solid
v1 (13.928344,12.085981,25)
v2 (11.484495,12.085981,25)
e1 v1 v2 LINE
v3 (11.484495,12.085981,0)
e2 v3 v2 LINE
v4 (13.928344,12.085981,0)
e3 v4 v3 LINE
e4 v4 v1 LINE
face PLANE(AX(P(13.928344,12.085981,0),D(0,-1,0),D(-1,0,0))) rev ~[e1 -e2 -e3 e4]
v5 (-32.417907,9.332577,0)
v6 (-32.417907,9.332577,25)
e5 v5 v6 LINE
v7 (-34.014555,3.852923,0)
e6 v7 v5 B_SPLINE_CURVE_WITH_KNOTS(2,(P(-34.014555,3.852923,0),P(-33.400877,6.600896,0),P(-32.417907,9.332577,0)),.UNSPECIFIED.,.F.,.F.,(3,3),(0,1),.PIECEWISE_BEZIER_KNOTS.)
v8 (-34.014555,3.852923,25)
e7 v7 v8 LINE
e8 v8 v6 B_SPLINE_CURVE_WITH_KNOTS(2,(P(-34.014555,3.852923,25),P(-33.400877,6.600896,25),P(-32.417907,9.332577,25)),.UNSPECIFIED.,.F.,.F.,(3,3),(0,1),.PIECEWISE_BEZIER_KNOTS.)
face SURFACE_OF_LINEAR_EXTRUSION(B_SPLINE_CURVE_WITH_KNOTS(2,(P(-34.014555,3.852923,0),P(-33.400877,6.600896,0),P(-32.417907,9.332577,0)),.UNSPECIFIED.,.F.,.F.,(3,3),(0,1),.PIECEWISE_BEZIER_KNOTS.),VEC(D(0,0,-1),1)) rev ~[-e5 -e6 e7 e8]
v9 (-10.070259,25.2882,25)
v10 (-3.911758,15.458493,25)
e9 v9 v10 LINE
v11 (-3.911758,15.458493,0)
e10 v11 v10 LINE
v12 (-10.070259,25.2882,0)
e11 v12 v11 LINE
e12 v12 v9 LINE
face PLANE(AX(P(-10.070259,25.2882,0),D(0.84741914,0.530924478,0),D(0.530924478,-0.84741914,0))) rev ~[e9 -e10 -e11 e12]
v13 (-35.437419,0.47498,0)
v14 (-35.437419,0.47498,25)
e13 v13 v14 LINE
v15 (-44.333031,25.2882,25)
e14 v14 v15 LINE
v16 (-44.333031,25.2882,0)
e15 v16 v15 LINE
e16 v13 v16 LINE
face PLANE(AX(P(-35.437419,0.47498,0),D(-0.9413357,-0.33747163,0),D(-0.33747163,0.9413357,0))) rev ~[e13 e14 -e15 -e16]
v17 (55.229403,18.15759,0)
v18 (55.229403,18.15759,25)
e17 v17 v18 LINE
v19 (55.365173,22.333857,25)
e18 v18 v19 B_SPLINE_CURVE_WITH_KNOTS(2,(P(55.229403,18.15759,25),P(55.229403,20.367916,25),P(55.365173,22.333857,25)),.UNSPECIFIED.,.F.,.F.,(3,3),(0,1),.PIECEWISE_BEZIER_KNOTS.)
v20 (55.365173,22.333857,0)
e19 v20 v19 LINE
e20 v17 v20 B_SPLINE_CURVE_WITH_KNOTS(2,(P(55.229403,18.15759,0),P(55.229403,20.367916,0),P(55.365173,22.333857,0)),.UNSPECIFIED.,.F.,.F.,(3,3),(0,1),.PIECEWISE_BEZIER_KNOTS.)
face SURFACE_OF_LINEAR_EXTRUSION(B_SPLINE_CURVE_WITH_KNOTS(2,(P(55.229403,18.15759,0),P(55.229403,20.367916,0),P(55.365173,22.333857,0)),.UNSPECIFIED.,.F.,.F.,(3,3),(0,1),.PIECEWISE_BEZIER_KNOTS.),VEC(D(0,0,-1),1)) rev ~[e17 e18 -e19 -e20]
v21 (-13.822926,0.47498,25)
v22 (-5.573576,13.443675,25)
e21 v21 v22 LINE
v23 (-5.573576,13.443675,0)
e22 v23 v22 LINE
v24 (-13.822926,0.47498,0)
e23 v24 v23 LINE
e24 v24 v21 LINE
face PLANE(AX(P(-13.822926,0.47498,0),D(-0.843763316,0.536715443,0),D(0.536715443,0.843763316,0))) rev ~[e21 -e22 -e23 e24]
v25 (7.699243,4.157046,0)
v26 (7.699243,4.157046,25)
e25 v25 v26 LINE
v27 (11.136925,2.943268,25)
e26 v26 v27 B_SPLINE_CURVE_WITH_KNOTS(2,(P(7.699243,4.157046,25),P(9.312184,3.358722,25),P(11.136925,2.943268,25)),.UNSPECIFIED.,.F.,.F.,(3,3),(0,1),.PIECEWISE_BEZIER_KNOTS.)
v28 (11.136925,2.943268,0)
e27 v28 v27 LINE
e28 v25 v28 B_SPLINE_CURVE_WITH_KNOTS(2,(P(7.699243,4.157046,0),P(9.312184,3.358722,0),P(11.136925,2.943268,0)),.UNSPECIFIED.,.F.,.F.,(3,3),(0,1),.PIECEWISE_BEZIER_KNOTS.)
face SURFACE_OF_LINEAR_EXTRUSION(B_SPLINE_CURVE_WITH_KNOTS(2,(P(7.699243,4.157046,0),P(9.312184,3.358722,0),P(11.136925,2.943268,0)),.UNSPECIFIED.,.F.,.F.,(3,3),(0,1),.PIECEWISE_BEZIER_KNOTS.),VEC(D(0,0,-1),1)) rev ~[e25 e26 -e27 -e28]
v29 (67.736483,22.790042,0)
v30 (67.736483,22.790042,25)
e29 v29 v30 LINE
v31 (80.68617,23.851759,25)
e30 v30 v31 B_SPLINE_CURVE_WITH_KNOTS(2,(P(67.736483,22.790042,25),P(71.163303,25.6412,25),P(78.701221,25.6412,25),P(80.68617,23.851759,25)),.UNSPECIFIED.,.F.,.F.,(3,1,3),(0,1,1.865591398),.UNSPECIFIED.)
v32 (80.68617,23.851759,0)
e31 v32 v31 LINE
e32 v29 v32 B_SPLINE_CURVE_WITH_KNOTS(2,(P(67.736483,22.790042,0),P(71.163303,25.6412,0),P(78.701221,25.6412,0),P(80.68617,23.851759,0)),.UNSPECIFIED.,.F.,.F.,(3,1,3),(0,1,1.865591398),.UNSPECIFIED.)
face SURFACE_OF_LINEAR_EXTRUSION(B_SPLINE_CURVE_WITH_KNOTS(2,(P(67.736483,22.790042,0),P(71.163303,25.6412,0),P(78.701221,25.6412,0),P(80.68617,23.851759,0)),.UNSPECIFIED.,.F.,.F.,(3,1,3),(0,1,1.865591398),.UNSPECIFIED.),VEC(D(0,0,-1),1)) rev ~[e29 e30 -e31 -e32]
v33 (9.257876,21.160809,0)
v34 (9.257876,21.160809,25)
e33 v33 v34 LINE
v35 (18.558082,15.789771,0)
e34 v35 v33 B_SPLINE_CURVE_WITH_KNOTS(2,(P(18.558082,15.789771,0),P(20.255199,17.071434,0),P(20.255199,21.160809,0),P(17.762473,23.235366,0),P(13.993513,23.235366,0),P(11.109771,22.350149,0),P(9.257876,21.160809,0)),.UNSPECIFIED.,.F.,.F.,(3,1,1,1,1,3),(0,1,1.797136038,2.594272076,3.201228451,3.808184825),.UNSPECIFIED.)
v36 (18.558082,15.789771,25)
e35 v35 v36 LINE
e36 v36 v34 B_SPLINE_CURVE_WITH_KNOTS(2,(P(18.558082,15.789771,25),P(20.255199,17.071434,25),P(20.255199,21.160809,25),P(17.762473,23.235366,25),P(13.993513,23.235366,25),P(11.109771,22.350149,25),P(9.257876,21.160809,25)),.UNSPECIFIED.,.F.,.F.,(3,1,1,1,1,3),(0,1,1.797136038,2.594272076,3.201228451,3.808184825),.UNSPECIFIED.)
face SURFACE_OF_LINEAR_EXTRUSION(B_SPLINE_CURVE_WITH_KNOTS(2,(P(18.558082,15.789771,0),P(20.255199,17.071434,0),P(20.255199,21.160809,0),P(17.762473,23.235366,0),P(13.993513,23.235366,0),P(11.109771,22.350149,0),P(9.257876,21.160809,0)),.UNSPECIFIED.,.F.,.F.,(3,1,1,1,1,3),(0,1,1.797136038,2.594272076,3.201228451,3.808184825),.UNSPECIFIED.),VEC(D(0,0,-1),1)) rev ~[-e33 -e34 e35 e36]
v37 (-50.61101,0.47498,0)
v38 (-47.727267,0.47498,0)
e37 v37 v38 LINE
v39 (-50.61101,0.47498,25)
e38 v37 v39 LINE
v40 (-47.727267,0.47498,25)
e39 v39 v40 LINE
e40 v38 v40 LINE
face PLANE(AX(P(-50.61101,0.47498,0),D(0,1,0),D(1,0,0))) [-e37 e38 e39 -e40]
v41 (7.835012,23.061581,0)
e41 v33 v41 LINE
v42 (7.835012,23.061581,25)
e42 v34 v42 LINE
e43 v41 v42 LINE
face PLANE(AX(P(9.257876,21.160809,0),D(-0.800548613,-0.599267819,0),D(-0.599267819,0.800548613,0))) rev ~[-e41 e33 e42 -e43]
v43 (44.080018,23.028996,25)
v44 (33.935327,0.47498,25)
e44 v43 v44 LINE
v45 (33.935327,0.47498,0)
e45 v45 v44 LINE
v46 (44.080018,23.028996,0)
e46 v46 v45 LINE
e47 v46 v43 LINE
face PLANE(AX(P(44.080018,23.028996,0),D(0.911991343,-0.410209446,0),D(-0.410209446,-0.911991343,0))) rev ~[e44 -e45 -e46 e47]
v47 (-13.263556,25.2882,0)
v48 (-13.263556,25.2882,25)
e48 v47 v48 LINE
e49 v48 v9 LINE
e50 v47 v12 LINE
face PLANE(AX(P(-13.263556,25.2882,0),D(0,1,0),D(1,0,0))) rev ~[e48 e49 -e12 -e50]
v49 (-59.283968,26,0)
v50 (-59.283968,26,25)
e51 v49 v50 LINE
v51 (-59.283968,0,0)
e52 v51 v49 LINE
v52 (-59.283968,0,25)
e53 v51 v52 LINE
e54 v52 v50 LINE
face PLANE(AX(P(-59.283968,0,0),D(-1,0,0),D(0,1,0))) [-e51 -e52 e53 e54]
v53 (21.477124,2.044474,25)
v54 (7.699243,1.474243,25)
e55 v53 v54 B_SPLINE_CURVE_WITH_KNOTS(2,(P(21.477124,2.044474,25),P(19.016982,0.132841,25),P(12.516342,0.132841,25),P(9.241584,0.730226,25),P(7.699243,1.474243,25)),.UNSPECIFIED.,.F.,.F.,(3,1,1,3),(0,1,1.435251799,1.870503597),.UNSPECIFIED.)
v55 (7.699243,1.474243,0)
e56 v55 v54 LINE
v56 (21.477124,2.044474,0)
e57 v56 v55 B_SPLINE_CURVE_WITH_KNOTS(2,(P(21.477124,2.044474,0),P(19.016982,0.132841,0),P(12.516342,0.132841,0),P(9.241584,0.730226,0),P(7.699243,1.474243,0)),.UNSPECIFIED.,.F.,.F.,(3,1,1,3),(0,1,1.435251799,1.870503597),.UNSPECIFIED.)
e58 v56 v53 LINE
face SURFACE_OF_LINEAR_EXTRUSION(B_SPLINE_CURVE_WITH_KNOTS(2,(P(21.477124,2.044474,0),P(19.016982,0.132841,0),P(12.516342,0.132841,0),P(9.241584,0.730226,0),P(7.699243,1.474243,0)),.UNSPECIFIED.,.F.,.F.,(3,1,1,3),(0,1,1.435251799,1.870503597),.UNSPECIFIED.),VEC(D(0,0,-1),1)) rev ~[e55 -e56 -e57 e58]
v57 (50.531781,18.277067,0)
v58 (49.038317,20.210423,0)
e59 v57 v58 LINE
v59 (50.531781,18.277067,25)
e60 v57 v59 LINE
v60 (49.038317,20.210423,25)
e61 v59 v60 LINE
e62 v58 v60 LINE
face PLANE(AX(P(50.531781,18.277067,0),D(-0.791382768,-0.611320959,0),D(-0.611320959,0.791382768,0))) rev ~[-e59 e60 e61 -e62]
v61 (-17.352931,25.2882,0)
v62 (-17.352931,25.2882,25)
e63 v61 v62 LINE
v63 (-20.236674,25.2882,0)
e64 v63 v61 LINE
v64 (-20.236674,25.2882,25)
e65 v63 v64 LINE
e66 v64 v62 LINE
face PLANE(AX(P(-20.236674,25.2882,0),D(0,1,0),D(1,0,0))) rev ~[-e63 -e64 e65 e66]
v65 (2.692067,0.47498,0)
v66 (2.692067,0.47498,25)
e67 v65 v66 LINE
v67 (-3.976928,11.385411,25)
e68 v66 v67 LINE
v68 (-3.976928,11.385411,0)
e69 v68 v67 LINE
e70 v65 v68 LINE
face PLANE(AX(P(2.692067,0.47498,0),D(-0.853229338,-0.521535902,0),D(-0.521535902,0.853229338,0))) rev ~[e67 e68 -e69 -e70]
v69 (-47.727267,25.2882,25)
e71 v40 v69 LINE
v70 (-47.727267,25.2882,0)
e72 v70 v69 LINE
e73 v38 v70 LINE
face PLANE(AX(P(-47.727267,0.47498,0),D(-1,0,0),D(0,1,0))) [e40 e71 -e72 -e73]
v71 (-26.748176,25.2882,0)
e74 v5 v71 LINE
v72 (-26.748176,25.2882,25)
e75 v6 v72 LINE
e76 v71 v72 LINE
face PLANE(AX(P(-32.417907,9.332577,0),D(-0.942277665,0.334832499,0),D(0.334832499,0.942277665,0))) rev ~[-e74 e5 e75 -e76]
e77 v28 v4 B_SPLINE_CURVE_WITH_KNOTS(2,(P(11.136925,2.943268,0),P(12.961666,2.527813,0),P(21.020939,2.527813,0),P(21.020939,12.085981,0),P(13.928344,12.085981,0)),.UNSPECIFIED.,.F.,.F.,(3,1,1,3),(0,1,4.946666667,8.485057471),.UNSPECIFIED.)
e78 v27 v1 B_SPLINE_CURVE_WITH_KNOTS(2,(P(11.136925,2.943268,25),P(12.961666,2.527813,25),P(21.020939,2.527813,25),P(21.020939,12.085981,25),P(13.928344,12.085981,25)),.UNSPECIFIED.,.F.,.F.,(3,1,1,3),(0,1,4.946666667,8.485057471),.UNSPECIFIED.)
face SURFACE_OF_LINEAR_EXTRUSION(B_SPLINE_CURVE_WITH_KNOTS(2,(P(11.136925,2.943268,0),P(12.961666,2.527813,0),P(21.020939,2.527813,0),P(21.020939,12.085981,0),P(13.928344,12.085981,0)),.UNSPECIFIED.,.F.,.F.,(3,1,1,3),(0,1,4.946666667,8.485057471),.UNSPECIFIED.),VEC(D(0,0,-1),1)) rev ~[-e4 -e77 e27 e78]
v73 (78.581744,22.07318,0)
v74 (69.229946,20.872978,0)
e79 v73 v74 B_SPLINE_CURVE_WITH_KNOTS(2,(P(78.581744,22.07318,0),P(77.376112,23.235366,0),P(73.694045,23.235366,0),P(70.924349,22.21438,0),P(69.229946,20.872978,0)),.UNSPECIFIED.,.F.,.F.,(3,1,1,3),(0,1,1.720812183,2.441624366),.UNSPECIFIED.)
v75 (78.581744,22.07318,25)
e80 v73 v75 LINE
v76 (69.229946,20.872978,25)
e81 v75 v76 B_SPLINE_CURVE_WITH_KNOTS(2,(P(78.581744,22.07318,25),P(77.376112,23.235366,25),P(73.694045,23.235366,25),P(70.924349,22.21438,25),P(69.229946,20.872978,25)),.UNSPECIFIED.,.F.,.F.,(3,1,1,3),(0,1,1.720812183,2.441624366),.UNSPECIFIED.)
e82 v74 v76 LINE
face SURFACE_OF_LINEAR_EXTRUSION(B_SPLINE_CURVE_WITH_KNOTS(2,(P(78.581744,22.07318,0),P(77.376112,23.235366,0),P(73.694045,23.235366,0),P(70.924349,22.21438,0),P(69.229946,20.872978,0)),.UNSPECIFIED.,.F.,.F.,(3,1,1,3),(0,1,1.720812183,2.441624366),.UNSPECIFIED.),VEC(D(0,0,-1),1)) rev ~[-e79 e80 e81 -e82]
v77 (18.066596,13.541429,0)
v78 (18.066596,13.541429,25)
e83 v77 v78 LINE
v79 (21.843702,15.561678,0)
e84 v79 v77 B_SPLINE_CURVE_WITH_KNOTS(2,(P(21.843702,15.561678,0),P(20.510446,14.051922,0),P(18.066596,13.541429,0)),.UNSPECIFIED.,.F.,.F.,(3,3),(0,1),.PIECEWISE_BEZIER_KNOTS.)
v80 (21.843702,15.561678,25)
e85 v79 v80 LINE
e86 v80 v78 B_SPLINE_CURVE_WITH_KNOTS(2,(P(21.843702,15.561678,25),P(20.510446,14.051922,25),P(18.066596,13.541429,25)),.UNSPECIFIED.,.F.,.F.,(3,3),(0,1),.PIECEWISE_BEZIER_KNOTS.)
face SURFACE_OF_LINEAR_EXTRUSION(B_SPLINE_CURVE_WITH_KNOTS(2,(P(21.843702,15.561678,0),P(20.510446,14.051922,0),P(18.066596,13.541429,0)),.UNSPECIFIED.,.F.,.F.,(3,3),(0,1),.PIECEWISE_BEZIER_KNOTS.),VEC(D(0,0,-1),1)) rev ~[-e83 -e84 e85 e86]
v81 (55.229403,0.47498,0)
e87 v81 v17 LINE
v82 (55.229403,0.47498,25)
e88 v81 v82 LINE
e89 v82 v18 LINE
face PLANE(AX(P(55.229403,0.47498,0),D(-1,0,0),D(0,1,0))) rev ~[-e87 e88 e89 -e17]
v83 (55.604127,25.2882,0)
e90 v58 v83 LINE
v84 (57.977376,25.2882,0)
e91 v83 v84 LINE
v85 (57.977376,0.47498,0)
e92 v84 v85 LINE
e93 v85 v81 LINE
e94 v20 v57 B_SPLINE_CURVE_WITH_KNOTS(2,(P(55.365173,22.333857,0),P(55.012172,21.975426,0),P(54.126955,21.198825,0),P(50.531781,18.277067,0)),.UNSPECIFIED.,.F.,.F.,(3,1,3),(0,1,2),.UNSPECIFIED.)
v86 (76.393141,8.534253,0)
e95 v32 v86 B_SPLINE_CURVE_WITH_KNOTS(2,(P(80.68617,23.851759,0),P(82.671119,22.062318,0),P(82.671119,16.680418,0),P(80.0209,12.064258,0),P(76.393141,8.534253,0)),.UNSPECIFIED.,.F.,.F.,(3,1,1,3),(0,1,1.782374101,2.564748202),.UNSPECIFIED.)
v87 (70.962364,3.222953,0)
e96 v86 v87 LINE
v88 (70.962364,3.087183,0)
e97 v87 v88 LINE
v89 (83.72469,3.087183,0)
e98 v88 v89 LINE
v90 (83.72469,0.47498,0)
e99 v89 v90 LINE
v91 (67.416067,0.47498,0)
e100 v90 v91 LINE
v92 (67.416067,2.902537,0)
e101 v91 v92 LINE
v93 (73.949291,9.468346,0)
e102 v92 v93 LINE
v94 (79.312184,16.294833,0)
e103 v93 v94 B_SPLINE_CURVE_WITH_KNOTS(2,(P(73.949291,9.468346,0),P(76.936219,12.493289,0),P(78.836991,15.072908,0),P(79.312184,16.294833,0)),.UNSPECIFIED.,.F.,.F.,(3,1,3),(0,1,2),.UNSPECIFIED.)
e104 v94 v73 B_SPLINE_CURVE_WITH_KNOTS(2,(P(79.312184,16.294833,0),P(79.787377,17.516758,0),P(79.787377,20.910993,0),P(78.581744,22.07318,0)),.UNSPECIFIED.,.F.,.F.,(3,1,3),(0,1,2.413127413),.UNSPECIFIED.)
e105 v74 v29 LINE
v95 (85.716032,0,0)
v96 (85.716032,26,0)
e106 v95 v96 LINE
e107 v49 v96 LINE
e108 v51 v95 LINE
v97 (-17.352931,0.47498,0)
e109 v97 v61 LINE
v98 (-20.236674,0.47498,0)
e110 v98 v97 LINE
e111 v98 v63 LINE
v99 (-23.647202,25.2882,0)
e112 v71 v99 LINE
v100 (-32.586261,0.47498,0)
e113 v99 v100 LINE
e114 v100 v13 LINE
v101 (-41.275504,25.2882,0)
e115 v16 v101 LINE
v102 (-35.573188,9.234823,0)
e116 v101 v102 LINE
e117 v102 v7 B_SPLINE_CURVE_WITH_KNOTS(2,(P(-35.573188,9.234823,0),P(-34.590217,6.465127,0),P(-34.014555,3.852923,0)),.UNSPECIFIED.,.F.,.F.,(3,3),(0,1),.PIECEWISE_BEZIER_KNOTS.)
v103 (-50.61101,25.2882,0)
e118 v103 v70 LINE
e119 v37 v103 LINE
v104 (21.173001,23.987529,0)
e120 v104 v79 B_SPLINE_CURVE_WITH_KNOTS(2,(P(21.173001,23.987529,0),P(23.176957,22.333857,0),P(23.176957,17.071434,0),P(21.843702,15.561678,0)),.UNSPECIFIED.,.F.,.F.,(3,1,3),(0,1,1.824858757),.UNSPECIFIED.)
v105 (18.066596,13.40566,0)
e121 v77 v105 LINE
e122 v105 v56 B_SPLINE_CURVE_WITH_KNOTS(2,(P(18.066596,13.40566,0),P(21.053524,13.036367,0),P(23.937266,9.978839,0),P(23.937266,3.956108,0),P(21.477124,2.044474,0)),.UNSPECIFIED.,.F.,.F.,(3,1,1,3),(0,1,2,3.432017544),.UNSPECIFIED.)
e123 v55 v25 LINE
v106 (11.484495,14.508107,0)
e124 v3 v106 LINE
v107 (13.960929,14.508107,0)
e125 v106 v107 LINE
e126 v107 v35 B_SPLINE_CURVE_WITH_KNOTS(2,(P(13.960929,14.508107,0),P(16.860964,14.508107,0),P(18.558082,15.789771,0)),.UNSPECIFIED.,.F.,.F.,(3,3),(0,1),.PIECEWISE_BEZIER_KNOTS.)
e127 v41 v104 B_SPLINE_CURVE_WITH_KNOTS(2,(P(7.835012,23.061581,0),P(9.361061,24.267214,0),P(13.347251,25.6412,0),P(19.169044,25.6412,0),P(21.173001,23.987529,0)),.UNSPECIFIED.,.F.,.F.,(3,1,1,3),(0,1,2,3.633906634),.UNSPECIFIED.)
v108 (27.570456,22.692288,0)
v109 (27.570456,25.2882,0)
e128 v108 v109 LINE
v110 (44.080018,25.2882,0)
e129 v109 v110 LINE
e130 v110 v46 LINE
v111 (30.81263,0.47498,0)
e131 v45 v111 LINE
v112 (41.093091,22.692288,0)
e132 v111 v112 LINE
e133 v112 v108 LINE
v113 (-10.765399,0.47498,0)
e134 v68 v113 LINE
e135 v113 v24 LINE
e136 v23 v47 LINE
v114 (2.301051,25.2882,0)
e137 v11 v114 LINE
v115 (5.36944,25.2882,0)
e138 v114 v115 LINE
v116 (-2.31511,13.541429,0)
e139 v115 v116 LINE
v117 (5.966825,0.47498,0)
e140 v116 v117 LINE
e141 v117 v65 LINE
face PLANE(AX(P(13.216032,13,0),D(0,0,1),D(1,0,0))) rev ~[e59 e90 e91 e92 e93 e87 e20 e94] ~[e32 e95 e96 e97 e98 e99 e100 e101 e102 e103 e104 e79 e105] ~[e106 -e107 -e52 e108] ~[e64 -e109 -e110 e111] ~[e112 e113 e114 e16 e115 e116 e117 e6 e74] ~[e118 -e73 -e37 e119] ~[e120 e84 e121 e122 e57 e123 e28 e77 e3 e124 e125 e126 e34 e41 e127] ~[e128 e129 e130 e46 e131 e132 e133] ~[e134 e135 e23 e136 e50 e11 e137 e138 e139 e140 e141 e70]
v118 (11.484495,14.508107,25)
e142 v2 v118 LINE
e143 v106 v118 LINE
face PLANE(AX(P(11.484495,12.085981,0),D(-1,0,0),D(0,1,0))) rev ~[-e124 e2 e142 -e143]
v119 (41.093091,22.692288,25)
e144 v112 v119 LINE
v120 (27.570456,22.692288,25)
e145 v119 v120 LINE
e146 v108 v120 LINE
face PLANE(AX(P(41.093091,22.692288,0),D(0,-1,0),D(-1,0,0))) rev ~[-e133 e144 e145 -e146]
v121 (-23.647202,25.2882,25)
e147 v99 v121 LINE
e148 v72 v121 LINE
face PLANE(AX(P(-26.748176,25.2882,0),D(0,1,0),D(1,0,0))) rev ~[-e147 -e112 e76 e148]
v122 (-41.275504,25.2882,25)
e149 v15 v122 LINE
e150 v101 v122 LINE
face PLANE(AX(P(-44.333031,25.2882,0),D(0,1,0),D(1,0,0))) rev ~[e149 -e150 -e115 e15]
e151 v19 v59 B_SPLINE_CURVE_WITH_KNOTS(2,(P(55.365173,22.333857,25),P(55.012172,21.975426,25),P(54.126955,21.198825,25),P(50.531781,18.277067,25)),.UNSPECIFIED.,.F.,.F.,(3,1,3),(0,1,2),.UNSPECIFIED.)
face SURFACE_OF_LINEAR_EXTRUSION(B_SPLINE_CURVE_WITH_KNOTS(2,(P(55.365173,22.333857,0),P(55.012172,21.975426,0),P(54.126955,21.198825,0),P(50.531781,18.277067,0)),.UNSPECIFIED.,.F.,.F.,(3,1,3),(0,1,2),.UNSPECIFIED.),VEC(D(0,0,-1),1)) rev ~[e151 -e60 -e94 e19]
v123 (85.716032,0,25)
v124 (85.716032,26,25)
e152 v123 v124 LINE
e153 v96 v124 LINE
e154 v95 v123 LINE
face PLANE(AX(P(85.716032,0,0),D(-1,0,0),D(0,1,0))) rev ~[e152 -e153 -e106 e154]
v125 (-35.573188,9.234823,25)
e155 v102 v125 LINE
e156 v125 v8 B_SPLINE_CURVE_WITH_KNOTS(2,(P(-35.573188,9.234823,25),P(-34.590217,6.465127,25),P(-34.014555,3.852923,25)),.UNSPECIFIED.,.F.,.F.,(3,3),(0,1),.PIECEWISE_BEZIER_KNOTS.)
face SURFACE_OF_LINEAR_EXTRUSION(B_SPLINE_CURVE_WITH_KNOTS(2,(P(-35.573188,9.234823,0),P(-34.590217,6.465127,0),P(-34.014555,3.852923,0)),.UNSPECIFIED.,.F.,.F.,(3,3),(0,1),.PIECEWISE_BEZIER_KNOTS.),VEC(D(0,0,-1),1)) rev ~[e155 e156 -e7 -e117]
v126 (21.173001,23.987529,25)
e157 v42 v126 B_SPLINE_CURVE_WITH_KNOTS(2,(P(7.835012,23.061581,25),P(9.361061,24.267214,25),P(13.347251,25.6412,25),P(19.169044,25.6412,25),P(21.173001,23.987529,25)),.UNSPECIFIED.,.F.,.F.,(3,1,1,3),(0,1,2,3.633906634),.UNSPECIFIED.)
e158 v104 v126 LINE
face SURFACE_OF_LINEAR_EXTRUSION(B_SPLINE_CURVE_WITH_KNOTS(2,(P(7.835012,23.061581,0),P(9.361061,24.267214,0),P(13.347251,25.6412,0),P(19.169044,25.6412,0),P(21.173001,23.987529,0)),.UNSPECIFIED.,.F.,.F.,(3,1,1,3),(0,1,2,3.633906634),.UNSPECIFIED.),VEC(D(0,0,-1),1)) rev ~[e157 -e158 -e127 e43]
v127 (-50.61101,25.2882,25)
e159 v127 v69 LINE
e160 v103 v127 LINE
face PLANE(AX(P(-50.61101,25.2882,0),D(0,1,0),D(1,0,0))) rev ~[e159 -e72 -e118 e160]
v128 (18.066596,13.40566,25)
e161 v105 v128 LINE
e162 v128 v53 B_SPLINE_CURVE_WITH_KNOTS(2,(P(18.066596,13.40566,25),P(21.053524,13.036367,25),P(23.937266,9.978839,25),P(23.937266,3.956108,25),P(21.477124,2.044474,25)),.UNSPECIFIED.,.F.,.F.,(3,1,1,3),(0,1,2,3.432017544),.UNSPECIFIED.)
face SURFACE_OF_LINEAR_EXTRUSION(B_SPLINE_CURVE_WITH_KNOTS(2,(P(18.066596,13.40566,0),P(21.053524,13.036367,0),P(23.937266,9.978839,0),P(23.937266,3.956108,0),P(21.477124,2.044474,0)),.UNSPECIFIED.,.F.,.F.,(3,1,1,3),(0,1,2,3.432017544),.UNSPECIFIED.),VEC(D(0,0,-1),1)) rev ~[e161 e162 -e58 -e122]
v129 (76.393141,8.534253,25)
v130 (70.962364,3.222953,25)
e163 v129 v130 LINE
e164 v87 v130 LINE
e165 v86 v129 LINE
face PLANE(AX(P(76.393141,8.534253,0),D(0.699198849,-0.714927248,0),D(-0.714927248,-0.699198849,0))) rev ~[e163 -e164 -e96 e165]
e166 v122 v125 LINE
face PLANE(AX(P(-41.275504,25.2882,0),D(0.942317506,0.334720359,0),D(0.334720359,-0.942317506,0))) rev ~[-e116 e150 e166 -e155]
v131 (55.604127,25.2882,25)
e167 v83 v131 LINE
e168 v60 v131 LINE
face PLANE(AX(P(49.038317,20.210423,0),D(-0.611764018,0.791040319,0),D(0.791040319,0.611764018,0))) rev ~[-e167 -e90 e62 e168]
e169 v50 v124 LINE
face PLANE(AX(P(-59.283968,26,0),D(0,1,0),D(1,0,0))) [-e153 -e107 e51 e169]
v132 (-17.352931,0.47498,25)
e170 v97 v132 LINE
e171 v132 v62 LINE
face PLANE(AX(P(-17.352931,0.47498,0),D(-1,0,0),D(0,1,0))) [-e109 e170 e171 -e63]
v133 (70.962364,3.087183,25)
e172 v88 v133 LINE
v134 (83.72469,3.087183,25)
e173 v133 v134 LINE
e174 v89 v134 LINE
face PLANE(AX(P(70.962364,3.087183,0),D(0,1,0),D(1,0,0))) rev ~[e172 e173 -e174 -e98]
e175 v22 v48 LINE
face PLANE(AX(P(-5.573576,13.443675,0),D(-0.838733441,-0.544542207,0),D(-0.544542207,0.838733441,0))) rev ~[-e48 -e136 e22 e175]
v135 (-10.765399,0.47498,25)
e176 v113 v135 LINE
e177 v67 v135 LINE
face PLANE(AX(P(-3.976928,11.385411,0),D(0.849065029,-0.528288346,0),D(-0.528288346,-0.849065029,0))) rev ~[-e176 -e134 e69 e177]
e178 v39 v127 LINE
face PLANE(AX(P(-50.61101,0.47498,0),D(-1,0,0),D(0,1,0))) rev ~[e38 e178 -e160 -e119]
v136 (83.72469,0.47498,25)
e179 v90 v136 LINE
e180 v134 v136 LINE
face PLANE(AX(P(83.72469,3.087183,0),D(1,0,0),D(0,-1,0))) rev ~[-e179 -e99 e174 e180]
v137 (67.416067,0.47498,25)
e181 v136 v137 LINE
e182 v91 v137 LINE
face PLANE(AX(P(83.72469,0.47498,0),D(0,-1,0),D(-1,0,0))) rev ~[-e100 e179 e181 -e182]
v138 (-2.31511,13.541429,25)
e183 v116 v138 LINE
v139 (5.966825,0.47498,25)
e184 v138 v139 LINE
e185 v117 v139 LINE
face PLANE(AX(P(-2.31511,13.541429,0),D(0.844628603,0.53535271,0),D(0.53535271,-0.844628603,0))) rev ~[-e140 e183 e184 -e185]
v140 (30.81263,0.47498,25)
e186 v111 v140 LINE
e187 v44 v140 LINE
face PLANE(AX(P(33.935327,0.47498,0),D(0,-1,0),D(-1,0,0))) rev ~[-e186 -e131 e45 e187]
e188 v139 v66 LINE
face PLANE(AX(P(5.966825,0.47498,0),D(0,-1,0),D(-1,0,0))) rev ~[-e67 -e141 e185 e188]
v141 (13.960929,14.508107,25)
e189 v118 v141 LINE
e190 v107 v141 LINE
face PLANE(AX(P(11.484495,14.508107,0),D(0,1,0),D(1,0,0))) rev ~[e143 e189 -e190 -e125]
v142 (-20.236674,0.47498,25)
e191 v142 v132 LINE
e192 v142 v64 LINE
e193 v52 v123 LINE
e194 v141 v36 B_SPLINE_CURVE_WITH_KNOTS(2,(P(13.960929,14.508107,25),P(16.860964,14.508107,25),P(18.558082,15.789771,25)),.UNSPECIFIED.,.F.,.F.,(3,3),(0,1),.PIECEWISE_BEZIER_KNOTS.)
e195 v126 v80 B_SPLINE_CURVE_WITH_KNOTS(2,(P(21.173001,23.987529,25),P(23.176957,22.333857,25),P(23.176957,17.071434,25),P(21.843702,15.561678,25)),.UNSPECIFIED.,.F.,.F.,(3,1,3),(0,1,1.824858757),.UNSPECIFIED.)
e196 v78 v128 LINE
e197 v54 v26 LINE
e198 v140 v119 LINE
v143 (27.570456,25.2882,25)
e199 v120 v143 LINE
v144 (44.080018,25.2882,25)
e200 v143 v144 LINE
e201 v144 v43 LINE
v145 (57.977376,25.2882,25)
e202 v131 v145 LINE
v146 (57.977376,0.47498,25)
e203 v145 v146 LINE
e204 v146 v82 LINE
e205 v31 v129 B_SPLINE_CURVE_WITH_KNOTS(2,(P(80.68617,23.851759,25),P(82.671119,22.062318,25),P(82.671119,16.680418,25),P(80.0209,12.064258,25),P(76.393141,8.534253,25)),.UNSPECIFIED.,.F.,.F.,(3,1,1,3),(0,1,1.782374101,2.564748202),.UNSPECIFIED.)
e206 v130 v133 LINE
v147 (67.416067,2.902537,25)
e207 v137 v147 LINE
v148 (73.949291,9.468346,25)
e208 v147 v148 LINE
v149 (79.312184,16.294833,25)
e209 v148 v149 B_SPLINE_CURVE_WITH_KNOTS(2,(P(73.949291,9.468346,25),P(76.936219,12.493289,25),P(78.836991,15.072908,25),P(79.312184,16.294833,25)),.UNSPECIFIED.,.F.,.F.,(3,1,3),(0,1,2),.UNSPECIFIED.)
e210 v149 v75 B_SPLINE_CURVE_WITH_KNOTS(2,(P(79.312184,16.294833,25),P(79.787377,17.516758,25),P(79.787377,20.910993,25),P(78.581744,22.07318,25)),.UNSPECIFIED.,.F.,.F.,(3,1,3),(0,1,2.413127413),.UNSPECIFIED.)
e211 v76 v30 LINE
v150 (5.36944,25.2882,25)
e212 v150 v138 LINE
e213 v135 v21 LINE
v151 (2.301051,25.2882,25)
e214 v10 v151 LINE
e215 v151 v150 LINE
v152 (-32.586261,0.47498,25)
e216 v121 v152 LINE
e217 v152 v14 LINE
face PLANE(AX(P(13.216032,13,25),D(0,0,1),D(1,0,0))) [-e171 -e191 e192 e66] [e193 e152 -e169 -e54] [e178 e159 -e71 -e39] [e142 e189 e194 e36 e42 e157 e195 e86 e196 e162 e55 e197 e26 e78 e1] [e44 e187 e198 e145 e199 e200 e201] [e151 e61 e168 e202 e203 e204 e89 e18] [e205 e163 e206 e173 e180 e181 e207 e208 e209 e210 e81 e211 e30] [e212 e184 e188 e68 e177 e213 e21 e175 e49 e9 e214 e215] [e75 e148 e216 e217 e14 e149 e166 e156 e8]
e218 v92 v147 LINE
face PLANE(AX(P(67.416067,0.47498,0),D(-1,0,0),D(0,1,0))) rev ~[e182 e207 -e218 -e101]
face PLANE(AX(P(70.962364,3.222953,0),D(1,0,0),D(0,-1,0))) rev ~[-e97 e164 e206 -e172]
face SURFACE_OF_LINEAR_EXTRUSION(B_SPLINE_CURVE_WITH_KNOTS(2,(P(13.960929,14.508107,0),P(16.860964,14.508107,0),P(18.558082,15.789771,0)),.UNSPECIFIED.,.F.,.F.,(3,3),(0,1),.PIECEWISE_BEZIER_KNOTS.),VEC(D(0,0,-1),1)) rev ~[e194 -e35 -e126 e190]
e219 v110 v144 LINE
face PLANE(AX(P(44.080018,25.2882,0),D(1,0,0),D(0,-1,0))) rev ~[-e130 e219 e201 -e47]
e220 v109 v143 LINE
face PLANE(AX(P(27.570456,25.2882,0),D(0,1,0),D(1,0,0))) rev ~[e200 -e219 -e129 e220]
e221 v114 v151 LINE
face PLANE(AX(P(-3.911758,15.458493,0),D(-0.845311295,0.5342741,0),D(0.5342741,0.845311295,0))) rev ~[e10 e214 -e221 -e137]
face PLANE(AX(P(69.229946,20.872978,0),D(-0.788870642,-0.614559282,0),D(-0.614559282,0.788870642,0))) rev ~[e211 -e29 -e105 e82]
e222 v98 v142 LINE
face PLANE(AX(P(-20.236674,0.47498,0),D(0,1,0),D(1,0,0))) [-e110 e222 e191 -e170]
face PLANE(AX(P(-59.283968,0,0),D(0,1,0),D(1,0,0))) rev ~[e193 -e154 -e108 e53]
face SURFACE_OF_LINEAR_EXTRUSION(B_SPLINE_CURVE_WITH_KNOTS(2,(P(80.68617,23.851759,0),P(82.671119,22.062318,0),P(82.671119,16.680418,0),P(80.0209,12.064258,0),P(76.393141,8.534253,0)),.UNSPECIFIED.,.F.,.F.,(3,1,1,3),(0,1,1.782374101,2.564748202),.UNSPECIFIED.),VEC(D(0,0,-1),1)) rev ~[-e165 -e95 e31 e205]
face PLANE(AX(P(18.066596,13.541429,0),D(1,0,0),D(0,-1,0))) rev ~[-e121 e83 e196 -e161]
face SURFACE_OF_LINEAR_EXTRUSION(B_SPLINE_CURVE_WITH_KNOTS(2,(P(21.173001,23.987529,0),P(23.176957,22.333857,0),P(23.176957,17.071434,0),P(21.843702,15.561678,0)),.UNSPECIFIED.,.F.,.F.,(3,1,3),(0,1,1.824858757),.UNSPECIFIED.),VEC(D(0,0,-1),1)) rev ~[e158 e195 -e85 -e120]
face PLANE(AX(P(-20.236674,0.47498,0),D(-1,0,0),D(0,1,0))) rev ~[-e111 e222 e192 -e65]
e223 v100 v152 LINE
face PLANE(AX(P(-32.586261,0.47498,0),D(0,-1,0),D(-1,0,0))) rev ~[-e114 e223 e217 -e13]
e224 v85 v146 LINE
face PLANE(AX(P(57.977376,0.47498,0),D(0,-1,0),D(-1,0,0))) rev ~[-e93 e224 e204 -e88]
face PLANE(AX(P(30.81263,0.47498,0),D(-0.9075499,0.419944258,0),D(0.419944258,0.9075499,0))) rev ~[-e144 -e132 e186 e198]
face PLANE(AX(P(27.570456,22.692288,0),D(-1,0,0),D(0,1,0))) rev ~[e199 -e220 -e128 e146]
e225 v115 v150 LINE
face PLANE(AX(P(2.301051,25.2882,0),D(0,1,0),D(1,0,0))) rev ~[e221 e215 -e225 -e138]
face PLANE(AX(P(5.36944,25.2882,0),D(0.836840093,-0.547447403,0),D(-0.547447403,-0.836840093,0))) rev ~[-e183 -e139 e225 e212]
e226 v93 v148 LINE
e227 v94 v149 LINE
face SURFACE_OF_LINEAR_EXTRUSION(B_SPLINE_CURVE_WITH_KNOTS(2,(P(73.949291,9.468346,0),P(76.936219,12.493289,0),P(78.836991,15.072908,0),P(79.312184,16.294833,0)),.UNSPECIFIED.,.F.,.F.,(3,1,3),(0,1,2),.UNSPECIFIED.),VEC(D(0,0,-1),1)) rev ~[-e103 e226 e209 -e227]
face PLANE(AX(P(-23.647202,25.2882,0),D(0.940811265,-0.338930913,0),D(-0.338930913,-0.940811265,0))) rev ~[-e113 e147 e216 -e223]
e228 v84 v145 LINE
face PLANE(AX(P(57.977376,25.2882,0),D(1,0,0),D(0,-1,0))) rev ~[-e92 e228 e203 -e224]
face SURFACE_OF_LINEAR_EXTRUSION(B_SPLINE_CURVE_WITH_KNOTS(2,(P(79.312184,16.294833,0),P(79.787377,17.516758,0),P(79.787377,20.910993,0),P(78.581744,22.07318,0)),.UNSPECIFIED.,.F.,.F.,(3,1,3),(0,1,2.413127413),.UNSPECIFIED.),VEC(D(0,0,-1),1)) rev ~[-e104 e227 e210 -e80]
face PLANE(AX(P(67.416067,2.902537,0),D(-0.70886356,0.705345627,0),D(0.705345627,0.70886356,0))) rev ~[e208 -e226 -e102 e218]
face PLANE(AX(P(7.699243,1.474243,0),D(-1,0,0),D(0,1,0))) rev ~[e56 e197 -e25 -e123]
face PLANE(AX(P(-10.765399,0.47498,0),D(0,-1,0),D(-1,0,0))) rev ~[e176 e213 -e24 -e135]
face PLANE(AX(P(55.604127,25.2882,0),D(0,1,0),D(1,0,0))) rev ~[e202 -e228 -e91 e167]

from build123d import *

# Parameters (mm, degrees)
F0_W     = 145
F0_H     = 26
F0_W_2   = 2.8837425812
F0_H_2   = 24.8132200628
F1_DEPTH = 25


with BuildPart() as f1:
    # F0 (on Top) → F1 (new body)
    with BuildSketch(Plane.XY):
        with Locations((13.2160319388, 13)):
            Rectangle(F0_W, F0_H)
        with Locations((-49.1691383017, 12.881589666)):
            Rectangle(F0_W_2, F0_H_2, mode=Mode.SUBTRACT)
        with BuildLine():
            Line((-32.417906679, 9.3325769037), (-26.7481755025, 25.2881996974))
            Line((-26.7481755025, 25.2881996974), (-23.6472018417, 25.2881996974))
            Line((-23.6472018417, 25.2881996974), (-32.5862607657, 0.4749796346))
            Line((-32.5862607657, 0.4749796346), (-35.4374186849, 0.4749796346))
            Line((-35.4374186849, 0.4749796346), (-44.3330313929, 25.2881996974))
            Line((-44.3330313929, 25.2881996974), (-41.2755039481, 25.2881996974))
            Line((-41.2755039481, 25.2881996974), (-35.5731881096, 9.2348229179))
            add(Edge.make_bspline(
                [(-35.5731881096, 9.2348229179), (-34.5902174746, 6.4651266535), (-34.0145551138, 3.8529229218)],
                knots=[0, 0, 0, 1, 1, 1], degree=2))
            add(Edge.make_bspline(
                [(-34.0145551138, 3.8529229218), (-33.400877314, 6.6008960782), (-32.417906679, 9.3325769037)],
                knots=[0, 0, 0, 1, 1, 1], degree=2))
        make_face(mode=Mode.SUBTRACT)
        with Locations((-18.7948026021, 12.881589666)):
            Rectangle(F0_W_2, F0_H_2, mode=Mode.SUBTRACT)
        Polygon((-2.3151098289, 13.5414290702), (5.9668250794, 0.4749796346), (2.692066555, 0.4749796346), (-3.9769275875, 11.3854106055), (-10.7653988238, 0.4749796346), (-13.8229262686, 0.4749796346), (-5.5735760223, 13.4436750844), (-13.2635562387, 25.2881996974), (-10.0702593692, 25.2881996974), (-3.9117582636, 15.4584933473), (2.3010506118, 25.2881996974), (5.3694396106, 25.2881996974), align=None, mode=Mode.SUBTRACT)
        with BuildLine():
            add(Edge.make_bspline(
                [(21.1730006487, 23.9875286086), (23.1769573576, 22.3338570154), (23.1769573576, 19.4501144342)],
                knots=[0, 0, 0, 1, 1, 1], degree=2))
            add(Edge.make_bspline(
                [(23.1769573576, 19.4501144342), (23.1769573576, 17.071434113), (21.8437016068, 15.5616781101)],
                knots=[0, 0, 0, 1, 1, 1], degree=2))
            add(Edge.make_bspline(
                [(21.8437016068, 15.5616781101), (20.510445856, 14.0519221071), (18.0665962109, 13.5414290702)],
                knots=[0, 0, 0, 1, 1, 1], degree=2))
            Line((18.0665962109, 13.5414290702), (18.0665962109, 13.4056596454))
            add(Edge.make_bspline(
                [(18.0665962109, 13.4056596454), (21.0535235549, 13.0363668102), (22.4953948455, 11.5076030878)],
                knots=[0, 0, 0, 1, 1, 1], degree=2))
            add(Edge.make_bspline(
                [(22.4953948455, 11.5076030878), (23.9372661361, 9.9788393654), (23.9372661361, 7.5024050584)],
                knots=[0, 0, 0, 1, 1, 1], degree=2))
            add(Edge.make_bspline(
                [(23.9372661361, 7.5024050584), (23.9372661361, 3.9561076845), (21.47712416, 2.0444741844)],
                knots=[0, 0, 0, 1, 1, 1], degree=2))
            add(Edge.make_bspline(
                [(21.47712416, 2.0444741844), (19.016982184, 0.1328406843), (14.4877141752, 0.1328406843)],
                knots=[0, 0, 0, 1, 1, 1], degree=2))
            add(Edge.make_bspline(
                [(14.4877141752, 0.1328406843), (12.5163421282, 0.1328406843), (10.878962866, 0.4315334187)],
                knots=[0, 0, 0, 1, 1, 1], degree=2))
            add(Edge.make_bspline(
                [(10.878962866, 0.4315334187), (9.2415836038, 0.7302261531), (7.6992429389, 1.4742426006)],
                knots=[0, 0, 0, 1, 1, 1], degree=2))
            Line((7.6992429389, 1.4742426006), (7.6992429389, 4.1570464331))
            add(Edge.make_bspline(
                [(7.6992429389, 4.1570464331), (9.3121837046, 3.3587222158), (11.1369247729, 2.9432677761)],
                knots=[0, 0, 0, 1, 1, 1], degree=2))
            add(Edge.make_bspline(
                [(11.1369247729, 2.9432677761), (12.9616658413, 2.5278133364), (14.590898938, 2.5278133364)],
                knots=[0, 0, 0, 1, 1, 1], degree=2))
            add(Edge.make_bspline(
                [(14.590898938, 2.5278133364), (21.020938893, 2.5278133364), (21.020938893, 7.5675743822)],
                knots=[0, 0, 0, 1, 1, 1], degree=2))
            add(Edge.make_bspline(
                [(21.020938893, 7.5675743822), (21.020938893, 12.0859808371), (13.9283441453, 12.0859808371)],
                knots=[0, 0, 0, 1, 1, 1], degree=2))
            Line((13.9283441453, 12.0859808371), (11.4844945002, 12.0859808371))
            Line((11.4844945002, 12.0859808371), (11.4844945002, 14.5081073742))
            Line((11.4844945002, 14.5081073742), (13.9609288072, 14.5081073742))
            add(Edge.make_bspline(
                [(13.9609288072, 14.5081073742), (16.8609637194, 14.5081073742), (18.5580815284, 15.7897707436)],
                knots=[0, 0, 0, 1, 1, 1], degree=2))
            add(Edge.make_bspline(
                [(18.5580815284, 15.7897707436), (20.2551993375, 17.071434113), (20.2551993375, 19.3469296714)],
                knots=[0, 0, 0, 1, 1, 1], degree=2))
            add(Edge.make_bspline(
                [(20.2551993375, 19.3469296714), (20.2551993375, 21.1608091858), (19.0088360185, 22.1980875907)],
                knots=[0, 0, 0, 1, 1, 1], degree=2))
            add(Edge.make_bspline(
                [(19.0088360185, 22.1980875907), (17.7624726995, 23.2353659956), (15.6227465659, 23.2353659956)],
                knots=[0, 0, 0, 1, 1, 1], degree=2))
            add(Edge.make_bspline(
                [(15.6227465659, 23.2353659956), (13.9935134692, 23.2353659956), (12.5516421786, 22.792757671)],
                knots=[0, 0, 0, 1, 1, 1], degree=2))
            add(Edge.make_bspline(
                [(12.5516421786, 22.792757671), (11.109770888, 22.3501493464), (9.2578759347, 21.1608091858)],
                knots=[0, 0, 0, 1, 1, 1], degree=2))
            Line((9.2578759347, 21.1608091858), (7.8350123636, 23.0615811319))
            add(Edge.make_bspline(
                [(7.8350123636, 23.0615811319), (9.3610606975, 24.2672136235), (11.3541558525, 24.9542069126)],
                knots=[0, 0, 0, 1, 1, 1], degree=2))
            add(Edge.make_bspline(
                [(11.3541558525, 24.9542069126), (13.3472510075, 25.6412002017), (15.557577242, 25.6412002017)],
                knots=[0, 0, 0, 1, 1, 1], degree=2))
            add(Edge.make_bspline(
                [(15.557577242, 25.6412002017), (19.1690439397, 25.6412002017), (21.1730006487, 23.9875286086)],
                knots=[0, 0, 0, 1, 1, 1], degree=2))
        make_face(mode=Mode.SUBTRACT)
        Polygon((33.9353265729, 0.4749796346), (30.8126298042, 0.4749796346), (41.0930906444, 22.6922882967), (27.5704559417, 22.6922882967), (27.5704559417, 25.2881996974), (44.0800179883, 25.2881996974), (44.0800179883, 23.02899647), align=None, mode=Mode.SUBTRACT)
        with BuildLine():
            Line((57.9773763033, 25.2881996974), (57.9773763033, 0.4749796346))
            Line((57.9773763033, 0.4749796346), (55.2294031468, 0.4749796346))
            Line((55.2294031468, 0.4749796346), (55.2294031468, 18.1575895108))
            add(Edge.make_bspline(
                [(55.2294031468, 18.1575895108), (55.2294031468, 20.3679157454), (55.3651725715, 22.3338570154)],
                knots=[0, 0, 0, 1, 1, 1], degree=2))
            add(Edge.make_bspline(
                [(55.3651725715, 22.3338570154), (55.0121720672, 21.9754257341), (54.5695637426, 21.5871251794)],
                knots=[0, 0, 0, 1, 1, 1], degree=2))
            add(Edge.make_bspline(
                [(54.5695637426, 21.5871251794), (54.126955418, 21.1988246247), (50.5317810513, 18.2770666046)],
                knots=[0, 0, 0, 1, 1, 1], degree=2))
            Line((50.5317810513, 18.2770666046), (49.0383173793, 20.2104232127))
            Line((49.0383173793, 20.2104232127), (55.6041267591, 25.2881996974))
            Line((55.6041267591, 25.2881996974), (57.9773763033, 25.2881996974))
        make_face(mode=Mode.SUBTRACT)
        with BuildLine():
            Line((83.7246900082, 3.0871833663), (83.7246900082, 0.4749796346))
            Line((83.7246900082, 0.4749796346), (67.4160667102, 0.4749796346))
            Line((67.4160667102, 0.4749796346), (67.4160667102, 2.9025369487))
            Line((67.4160667102, 2.9025369487), (73.949291428, 9.4683463284))
            add(Edge.make_bspline(
                [(73.949291428, 9.4683463284), (76.9362187719, 12.4932891113), (77.886604745, 13.7830986462)],
                knots=[0, 0, 0, 1, 1, 1], degree=2))
            add(Edge.make_bspline(
                [(77.886604745, 13.7830986462), (78.8369907181, 15.0729081811), (79.3121837046, 16.2948330036)],
                knots=[0, 0, 0, 1, 1, 1], degree=2))
            add(Edge.make_bspline(
                [(79.3121837046, 16.2948330036), (79.7873766912, 17.5167578261), (79.7873766912, 18.9233290663)],
                knots=[0, 0, 0, 1, 1, 1], degree=2))
            add(Edge.make_bspline(
                [(79.7873766912, 18.9233290663), (79.7873766912, 20.9109934443), (78.5817441996, 22.0731797199)],
                knots=[0, 0, 0, 1, 1, 1], degree=2))
            add(Edge.make_bspline(
                [(78.5817441996, 22.0731797199), (77.376111708, 23.2353659956), (75.2363855744, 23.2353659956)],
                knots=[0, 0, 0, 1, 1, 1], degree=2))
            add(Edge.make_bspline(
                [(75.2363855744, 23.2353659956), (73.6940449095, 23.2353659956), (72.3091967773, 22.7248729586)],
                knots=[0, 0, 0, 1, 1, 1], degree=2))
            add(Edge.make_bspline(
                [(72.3091967773, 22.7248729586), (70.9243486451, 22.2143799216), (69.2299462245, 20.8729780054)],
                knots=[0, 0, 0, 1, 1, 1], degree=2))
            Line((69.2299462245, 20.8729780054), (67.7364825525, 22.7900422825))
            add(Edge.make_bspline(
                [(67.7364825525, 22.7900422825), (71.1633028326, 25.6412002017), (75.2038009124, 25.6412002017)],
                knots=[0, 0, 0, 1, 1, 1], degree=2))
            add(Edge.make_bspline(
                [(75.2038009124, 25.6412002017), (78.7012212934, 25.6412002017), (80.6861702829, 23.8517591838)],
                knots=[0, 0, 0, 1, 1, 1], degree=2))
            add(Edge.make_bspline(
                [(80.6861702829, 23.8517591838), (82.6711192723, 22.0623181659), (82.6711192723, 19.0428061601)],
                knots=[0, 0, 0, 1, 1, 1], degree=2))
            add(Edge.make_bspline(
                [(82.6711192723, 19.0428061601), (82.6711192723, 16.6804181698), (81.346009687, 14.3723379495)],
                knots=[0, 0, 0, 1, 1, 1], degree=2))
            add(Edge.make_bspline(
                [(81.346009687, 14.3723379495), (80.0209001017, 12.0642577292), (76.393141073, 8.5342526863)],
                knots=[0, 0, 0, 1, 1, 1], degree=2))
            Line((76.393141073, 8.5342526863), (70.962364084, 3.222952791))
            Line((70.962364084, 3.222952791), (70.962364084, 3.0871833663))
            Line((70.962364084, 3.0871833663), (83.7246900082, 3.0871833663))
        make_face(mode=Mode.SUBTRACT)
    extrude(amount=F1_DEPTH)


solid = f1.part
